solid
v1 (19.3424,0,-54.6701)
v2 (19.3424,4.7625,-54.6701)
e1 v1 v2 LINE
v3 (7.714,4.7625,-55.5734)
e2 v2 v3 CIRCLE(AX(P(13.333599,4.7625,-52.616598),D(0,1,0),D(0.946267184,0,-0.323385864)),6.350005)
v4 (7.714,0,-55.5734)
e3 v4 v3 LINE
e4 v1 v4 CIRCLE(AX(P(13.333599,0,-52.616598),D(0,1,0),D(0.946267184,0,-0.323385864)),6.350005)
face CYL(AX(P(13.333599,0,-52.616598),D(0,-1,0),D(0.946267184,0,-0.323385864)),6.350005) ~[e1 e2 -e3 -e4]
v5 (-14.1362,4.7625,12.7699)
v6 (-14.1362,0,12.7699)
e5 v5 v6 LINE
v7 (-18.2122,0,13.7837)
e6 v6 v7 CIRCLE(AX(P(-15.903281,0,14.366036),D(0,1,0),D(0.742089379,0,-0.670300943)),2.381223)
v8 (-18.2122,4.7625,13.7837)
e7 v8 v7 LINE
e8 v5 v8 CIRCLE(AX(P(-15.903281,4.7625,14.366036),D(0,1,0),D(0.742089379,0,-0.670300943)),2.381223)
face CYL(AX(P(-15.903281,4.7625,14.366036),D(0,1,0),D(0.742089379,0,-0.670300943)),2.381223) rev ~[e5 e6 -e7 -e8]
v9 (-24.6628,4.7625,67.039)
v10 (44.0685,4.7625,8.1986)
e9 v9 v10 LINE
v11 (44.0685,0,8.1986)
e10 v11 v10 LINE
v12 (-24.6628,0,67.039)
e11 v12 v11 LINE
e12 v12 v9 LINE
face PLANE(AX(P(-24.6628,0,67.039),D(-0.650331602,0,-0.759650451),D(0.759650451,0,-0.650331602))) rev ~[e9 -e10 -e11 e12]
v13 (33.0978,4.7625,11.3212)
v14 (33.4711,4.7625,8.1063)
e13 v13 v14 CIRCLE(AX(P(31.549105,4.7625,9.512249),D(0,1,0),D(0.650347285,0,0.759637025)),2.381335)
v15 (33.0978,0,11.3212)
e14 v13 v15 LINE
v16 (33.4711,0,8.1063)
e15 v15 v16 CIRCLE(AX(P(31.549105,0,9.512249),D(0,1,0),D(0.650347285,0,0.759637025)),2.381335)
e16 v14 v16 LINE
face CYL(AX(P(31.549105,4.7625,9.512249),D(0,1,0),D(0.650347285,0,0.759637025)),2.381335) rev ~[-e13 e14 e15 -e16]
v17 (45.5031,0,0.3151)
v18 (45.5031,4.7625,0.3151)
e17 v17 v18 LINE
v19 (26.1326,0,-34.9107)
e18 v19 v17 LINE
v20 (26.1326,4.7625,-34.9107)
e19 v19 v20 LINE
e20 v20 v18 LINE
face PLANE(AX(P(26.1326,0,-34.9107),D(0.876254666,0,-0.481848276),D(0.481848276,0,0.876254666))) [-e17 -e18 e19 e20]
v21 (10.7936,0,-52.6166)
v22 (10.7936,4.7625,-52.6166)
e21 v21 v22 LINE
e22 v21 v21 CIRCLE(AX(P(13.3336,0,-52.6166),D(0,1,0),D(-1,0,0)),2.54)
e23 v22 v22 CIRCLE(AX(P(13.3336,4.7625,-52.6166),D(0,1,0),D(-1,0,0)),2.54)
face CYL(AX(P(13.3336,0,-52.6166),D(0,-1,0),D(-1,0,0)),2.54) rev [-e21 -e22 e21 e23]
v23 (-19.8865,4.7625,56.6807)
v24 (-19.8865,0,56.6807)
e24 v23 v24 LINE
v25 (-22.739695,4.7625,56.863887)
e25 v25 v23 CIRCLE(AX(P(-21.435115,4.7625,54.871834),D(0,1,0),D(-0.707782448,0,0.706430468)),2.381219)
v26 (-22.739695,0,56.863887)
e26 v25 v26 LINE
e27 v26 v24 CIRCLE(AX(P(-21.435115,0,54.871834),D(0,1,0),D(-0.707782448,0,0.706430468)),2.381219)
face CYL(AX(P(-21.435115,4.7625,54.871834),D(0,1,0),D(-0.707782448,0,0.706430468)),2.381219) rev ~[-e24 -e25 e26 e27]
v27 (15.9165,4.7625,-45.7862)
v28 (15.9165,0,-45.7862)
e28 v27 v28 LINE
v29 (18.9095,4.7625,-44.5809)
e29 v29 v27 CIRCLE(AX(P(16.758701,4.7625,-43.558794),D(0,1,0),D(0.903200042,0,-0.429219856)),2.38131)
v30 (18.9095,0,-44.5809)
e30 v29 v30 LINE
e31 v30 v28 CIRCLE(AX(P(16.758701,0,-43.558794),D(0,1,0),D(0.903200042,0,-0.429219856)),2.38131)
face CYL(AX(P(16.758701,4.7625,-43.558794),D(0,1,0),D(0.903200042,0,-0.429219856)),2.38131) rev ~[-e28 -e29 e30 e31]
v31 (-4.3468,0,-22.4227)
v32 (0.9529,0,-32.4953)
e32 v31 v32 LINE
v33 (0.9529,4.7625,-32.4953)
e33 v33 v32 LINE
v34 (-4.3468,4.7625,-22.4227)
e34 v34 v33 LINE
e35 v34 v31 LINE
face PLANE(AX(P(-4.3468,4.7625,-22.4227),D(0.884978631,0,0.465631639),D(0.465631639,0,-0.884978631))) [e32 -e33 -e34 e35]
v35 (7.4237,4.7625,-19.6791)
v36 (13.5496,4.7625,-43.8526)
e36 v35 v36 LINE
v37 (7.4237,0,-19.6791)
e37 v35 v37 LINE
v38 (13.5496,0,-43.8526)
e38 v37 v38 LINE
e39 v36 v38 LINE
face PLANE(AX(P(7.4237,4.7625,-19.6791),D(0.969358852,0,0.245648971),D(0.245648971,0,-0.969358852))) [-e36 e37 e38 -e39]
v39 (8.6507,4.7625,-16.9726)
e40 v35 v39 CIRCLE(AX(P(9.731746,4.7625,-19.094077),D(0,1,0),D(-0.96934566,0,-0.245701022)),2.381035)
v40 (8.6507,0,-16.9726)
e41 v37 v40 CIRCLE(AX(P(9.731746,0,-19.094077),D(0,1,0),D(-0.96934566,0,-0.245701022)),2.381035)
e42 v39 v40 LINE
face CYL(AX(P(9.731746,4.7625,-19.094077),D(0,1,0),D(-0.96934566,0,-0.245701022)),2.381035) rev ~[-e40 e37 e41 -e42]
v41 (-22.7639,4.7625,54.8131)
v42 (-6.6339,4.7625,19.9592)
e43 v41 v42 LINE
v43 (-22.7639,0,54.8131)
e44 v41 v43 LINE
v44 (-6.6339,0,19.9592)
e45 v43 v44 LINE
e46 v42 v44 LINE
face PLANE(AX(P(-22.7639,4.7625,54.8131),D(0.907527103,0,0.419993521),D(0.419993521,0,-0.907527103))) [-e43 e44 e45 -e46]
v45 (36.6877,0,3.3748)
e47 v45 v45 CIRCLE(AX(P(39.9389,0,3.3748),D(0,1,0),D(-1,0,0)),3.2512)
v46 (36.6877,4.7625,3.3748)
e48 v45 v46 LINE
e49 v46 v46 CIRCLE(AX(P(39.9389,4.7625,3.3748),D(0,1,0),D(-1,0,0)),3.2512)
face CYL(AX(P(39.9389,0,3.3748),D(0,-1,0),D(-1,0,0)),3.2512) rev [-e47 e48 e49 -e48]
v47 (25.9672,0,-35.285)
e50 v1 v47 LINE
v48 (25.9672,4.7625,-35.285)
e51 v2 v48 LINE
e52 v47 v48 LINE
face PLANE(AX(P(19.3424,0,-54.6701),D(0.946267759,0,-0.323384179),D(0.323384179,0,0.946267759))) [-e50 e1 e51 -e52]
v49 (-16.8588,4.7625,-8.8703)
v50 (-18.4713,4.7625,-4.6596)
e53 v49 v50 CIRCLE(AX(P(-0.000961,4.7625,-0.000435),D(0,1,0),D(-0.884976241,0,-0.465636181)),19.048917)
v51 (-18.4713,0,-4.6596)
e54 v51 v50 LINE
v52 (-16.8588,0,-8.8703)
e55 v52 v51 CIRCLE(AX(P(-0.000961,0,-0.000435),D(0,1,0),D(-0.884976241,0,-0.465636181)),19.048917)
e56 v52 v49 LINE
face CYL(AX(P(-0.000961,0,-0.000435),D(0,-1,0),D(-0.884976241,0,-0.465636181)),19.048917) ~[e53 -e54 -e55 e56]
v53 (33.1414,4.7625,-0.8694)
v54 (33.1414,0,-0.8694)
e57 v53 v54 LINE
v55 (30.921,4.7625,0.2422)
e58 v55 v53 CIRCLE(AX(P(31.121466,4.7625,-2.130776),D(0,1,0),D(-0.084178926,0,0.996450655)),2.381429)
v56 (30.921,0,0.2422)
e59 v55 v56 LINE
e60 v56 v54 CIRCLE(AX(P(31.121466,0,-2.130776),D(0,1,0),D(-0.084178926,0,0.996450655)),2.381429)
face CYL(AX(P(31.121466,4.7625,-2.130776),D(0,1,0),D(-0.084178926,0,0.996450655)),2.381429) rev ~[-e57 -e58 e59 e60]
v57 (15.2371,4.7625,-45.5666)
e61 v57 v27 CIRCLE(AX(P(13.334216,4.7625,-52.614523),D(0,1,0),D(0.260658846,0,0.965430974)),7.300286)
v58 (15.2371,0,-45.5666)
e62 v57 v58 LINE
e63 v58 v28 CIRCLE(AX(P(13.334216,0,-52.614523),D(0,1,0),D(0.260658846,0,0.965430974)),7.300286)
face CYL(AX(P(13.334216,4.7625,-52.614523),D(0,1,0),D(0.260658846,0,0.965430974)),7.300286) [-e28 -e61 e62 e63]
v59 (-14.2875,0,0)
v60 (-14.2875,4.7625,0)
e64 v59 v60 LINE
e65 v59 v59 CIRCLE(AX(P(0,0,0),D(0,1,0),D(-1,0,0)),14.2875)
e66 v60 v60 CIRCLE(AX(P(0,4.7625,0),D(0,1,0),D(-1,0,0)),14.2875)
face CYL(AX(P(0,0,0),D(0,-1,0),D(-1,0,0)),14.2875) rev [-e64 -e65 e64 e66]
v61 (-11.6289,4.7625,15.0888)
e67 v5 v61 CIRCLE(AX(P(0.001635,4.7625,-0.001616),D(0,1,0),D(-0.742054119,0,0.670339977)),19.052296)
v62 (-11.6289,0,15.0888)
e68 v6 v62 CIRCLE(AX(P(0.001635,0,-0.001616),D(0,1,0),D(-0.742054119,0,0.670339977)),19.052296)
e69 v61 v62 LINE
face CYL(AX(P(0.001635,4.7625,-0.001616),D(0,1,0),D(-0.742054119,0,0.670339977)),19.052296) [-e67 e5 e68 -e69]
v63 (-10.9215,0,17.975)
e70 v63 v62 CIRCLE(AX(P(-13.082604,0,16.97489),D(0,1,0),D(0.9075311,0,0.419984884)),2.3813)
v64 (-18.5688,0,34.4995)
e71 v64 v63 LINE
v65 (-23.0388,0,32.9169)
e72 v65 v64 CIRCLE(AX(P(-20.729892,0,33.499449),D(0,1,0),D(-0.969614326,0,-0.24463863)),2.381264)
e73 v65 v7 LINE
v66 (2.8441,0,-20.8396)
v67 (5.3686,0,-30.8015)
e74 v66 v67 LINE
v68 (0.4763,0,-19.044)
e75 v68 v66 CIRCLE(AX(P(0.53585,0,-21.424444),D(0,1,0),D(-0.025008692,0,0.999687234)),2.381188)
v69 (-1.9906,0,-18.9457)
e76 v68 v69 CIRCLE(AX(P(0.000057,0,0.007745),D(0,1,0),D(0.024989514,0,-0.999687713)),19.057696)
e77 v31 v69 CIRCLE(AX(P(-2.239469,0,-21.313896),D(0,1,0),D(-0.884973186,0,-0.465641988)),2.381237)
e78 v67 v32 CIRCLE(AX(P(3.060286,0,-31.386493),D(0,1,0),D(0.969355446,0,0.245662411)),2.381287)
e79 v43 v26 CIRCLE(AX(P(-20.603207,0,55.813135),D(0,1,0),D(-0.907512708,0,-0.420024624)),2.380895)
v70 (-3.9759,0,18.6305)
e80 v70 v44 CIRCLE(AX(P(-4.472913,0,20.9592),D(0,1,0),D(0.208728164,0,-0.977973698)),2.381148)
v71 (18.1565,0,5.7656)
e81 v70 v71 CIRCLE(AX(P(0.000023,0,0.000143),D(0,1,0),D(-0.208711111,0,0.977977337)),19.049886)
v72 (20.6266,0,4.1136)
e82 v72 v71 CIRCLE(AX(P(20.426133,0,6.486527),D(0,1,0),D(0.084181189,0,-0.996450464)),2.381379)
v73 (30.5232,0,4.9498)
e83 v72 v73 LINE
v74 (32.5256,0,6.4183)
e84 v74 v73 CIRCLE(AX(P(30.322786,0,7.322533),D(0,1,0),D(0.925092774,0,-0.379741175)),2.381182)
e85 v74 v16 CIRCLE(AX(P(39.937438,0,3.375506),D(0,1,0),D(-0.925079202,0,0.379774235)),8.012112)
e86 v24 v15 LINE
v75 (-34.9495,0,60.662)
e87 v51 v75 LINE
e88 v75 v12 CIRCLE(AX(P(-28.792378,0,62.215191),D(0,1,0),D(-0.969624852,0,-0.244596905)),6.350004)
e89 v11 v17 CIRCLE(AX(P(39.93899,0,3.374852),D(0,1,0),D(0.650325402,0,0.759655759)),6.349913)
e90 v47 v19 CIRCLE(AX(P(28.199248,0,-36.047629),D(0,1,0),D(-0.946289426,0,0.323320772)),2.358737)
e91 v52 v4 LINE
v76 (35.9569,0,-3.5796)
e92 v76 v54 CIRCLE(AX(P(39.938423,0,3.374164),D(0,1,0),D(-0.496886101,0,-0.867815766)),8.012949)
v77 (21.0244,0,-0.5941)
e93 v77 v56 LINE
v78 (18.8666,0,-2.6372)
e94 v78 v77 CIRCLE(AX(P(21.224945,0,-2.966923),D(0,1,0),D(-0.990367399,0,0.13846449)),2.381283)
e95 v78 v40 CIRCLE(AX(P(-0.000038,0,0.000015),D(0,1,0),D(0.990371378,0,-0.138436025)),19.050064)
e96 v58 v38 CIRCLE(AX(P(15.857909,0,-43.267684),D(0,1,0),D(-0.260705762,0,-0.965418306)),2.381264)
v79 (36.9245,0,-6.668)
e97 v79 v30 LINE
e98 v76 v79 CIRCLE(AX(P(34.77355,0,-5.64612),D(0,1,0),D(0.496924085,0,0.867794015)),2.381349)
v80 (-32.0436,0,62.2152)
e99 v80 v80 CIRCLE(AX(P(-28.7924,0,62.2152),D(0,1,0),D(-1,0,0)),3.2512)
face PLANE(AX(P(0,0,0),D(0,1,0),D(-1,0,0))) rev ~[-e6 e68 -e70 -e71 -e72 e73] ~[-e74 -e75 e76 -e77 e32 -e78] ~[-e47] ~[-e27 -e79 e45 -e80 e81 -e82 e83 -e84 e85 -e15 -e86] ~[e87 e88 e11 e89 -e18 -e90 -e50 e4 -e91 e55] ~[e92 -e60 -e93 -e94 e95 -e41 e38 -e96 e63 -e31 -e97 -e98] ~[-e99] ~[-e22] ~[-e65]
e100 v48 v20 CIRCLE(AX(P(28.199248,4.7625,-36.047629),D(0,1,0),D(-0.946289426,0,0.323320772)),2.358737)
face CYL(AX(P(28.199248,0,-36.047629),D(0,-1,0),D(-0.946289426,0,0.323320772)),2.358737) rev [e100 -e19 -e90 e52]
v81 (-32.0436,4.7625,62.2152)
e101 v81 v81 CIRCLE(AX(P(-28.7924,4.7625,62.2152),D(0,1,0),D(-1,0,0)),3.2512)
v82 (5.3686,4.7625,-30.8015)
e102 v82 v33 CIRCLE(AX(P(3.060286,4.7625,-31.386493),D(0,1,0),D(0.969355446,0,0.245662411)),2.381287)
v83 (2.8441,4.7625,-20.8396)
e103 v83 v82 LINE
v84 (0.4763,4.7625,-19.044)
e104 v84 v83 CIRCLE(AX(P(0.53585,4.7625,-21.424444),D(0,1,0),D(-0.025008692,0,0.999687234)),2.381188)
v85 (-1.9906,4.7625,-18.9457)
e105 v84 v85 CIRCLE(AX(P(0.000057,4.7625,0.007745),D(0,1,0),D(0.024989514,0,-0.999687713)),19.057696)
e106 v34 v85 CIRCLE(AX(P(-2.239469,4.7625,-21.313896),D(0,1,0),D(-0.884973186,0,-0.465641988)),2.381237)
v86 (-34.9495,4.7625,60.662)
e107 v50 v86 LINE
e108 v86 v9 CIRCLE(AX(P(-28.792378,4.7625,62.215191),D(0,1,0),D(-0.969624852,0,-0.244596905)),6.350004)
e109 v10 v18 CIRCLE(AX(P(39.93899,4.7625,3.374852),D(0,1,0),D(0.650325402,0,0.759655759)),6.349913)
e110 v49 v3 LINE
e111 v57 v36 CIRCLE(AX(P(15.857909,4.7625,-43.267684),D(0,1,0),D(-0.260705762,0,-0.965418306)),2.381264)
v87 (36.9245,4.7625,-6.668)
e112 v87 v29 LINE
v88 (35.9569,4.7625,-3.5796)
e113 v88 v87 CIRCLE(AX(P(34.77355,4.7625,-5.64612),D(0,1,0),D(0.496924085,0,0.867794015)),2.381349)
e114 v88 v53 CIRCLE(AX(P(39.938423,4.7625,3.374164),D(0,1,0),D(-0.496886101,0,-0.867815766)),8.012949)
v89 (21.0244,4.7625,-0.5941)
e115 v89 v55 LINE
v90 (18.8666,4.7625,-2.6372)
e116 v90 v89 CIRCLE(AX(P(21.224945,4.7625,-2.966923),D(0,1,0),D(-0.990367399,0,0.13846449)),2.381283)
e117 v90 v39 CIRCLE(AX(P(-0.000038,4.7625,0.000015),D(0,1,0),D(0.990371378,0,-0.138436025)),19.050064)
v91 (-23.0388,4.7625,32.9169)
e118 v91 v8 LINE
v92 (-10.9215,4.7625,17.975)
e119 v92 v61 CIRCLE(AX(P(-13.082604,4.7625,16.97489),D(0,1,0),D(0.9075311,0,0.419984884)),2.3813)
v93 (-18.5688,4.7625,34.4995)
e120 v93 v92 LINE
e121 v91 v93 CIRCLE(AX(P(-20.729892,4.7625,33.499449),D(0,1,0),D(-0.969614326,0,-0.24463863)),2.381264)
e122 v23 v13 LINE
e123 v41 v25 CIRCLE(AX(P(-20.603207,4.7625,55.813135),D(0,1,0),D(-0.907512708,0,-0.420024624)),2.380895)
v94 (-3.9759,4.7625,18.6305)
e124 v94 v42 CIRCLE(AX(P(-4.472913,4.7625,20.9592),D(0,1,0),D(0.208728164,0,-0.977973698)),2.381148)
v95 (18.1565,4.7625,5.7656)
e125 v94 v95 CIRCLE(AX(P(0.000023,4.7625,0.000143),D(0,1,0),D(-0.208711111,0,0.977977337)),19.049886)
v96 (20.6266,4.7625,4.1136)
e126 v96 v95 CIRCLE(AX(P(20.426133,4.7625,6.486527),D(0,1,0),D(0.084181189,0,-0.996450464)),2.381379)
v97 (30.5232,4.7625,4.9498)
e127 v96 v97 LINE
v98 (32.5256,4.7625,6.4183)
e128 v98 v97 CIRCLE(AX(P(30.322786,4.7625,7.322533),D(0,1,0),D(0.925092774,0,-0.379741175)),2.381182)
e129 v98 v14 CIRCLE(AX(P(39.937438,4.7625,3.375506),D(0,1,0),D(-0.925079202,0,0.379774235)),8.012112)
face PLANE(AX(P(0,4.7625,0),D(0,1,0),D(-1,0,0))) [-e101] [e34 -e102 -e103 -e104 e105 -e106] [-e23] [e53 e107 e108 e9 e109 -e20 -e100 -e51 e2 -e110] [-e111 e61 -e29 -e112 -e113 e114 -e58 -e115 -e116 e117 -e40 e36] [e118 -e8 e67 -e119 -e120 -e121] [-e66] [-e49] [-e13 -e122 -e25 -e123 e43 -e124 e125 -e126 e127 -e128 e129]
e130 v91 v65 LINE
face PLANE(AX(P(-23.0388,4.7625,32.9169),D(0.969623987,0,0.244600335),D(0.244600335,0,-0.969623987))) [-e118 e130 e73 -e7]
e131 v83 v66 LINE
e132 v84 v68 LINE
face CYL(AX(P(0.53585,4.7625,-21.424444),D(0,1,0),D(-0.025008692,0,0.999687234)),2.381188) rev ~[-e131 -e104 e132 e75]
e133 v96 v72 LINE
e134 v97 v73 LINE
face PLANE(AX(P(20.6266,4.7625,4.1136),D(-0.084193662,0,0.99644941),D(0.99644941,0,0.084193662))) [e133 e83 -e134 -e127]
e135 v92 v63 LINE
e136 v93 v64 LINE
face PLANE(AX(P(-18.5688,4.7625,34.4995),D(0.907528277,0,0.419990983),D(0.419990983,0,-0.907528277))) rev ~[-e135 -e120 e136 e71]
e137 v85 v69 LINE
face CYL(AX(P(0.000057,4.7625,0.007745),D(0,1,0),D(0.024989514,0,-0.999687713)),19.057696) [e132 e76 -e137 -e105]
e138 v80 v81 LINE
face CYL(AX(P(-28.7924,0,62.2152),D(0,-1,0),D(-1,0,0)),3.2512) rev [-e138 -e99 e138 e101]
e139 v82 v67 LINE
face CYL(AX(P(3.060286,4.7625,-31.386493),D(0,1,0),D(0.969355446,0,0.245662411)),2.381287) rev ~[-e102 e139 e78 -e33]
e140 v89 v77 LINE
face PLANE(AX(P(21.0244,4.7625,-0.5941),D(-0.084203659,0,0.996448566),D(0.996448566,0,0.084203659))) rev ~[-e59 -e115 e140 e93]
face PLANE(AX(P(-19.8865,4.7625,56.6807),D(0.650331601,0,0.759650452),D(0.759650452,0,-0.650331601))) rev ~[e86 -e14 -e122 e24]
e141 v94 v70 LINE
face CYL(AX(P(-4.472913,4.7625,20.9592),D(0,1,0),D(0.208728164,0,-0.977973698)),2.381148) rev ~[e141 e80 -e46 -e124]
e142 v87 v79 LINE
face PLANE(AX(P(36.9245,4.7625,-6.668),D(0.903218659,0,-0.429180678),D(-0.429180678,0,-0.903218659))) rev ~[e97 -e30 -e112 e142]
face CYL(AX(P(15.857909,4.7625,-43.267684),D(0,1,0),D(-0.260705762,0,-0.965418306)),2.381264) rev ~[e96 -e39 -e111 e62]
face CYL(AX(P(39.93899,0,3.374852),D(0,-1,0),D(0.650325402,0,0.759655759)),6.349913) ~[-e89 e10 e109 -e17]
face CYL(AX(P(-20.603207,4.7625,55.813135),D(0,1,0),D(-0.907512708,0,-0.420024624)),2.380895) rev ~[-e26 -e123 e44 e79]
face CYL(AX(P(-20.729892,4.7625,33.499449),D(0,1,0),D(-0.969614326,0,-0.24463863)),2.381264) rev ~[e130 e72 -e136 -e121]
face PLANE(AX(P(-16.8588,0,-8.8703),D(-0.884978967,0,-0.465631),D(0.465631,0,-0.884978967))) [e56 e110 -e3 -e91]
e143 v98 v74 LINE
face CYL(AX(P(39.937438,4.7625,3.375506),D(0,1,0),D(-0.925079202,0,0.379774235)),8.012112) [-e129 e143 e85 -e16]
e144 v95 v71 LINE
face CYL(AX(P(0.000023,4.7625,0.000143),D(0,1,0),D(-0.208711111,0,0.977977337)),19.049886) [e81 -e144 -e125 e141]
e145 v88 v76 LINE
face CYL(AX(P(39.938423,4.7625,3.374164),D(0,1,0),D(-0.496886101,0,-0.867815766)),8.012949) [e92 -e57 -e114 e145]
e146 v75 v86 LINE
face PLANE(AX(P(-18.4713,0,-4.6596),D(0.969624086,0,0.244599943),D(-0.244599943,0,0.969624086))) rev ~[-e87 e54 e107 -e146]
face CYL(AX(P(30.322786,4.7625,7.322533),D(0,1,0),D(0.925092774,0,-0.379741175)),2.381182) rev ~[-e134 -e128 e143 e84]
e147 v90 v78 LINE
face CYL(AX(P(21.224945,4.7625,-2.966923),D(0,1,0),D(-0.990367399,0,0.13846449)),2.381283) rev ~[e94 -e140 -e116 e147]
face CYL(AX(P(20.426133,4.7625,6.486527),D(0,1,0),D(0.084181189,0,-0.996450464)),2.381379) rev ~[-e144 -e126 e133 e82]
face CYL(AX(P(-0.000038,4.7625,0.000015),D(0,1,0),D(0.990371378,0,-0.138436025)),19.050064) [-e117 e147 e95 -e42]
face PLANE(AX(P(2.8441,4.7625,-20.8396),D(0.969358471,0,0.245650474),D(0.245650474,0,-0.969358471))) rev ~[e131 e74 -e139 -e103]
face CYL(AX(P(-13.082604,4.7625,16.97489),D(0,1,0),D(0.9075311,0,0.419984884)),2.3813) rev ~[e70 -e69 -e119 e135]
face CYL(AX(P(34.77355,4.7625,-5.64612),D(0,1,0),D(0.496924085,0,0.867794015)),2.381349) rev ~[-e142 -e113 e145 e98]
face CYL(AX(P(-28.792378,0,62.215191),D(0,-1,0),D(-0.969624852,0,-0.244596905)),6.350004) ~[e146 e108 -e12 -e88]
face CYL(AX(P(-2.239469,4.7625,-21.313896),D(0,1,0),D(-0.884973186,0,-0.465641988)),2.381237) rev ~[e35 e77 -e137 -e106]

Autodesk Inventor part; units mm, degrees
ref_plane "YZ Plane" through (0, 0, 0) normal (1, 0, 0) x (0, 1, 0)
ref_plane "XZ Plane" through (0, 0, 0) normal (0, 1, 0) x (-1, 0, 0)
ref_plane "XY Plane" through (0, 0, 0) normal (0, 0, 1) x (1, 0, 0)
sketch "Sketch1" plane through (0, 0, 0) normal (0, 1, 0) x (-1, 0, 0)
  circle A0 centre (0, 0) radius 14.2875
  line L0 (0, 0) -> (28.7924, 62.2152) construction
  line L1 (0, 0) -> (-39.9389, 3.3748) construction
  line L2 (0, 0) -> (-13.3336, -52.6166) construction
  circle A1 centre (28.7924, 62.2152) radius 3.2512
  circle A2 centre (-39.9389, 3.3748) radius 3.2512
  circle A3 centre (-13.3336, -52.6166) radius 2.54
  line L3 (0, 0) -> (0, 14.2875) construction
  circle A4 centre (28.7924, 62.2152) radius 6.35 construction
  circle A5 centre (-13.3336, -52.6166) radius 6.35 construction
  circle A6 centre (-39.9389, 3.3748) radius 6.35 construction
  circle A7 centre (0, 0) radius 19.05 construction
  line L4 (24.6628, 67.039) -> (-44.0685, 8.1986)
  line L5 (16.8588, -8.8703) -> (-7.714, -55.5734)
  line L6 (18.4713, -4.6596) -> (34.9495, 60.662)
  arc A8 (34.9495, 60.662) -> (24.6628, 67.039) centre (28.7924, 62.2152) ccw
  arc A9 (-44.0685, 8.1986) -> (-45.5031, 0.3151) centre (-39.9389, 3.3748) ccw
  arc A10 (-19.3424, -54.6701) -> (-7.714, -55.5734) centre (-13.3336, -52.6166) ccw
  arc A11 (16.8588, -8.8703) -> (18.4713, -4.6596) centre (0, 0) ccw
  line L7 (-13.3336, -52.6166) -> (-26.0336, -52.6166) construction
  line L8 (-26.0336, -52.6166) -> (-26.0336, -35.0906) construction
  line L9 (-26.0336, -35.0906) -> (-38.7336, -35.0906) construction
  line L10 (-19.3424, -54.6701) -> (-25.9672, -35.285)
  line L11 (-26.1326, -34.9107) -> (-45.5031, 0.3151)
  arc A12 (-25.9672, -35.285) -> (-26.1326, -34.9107) centre (-28.2025, -36.0489) ccw
  dimension "d0" = 28.575
  dimension "d1" = 6.5024
  dimension "d2" = 68.5546
  dimension "d3" = 40.0812
  dimension "d4" = 54.2798
  dimension "d5" = 24.834
  dimension "d8" = 85.17
  dimension "d9" = 12.7
  dimension "d10" = 4.7625
  dimension "d32" = 80.61
  dimension "d33" = 5.08
  dimension "d34" = 12.7
  dimension "d35" = 17.526
  dimension "d36" = 12.7
  dimension "d37" = 2.3622
extrude "Extrusion1" add sketch "Sketch1" along normal blind 4.7625
sketch "Sketch2" plane through (0, 4.7625, 0) normal (0, 1, 0) x (1, 0, 0)
  line L0 (-18.4713, 4.6596) -> (-34.9495, -60.662) construction
  arc A0 (-34.9495, -60.662) -> (-24.6628, -67.039) centre (-28.7924, -62.2152) ccw construction
  line L1 (-24.6628, -67.039) -> (44.0685, -8.1986) construction
  arc A1 (44.0685, -8.1986) -> (45.5031, -0.3151) centre (39.9389, -3.3748) ccw construction
  arc A2 (19.3424, 54.6701) -> (7.714, 55.5734) centre (13.3336, 52.6166) ccw construction
  line L2 (7.714, 55.5734) -> (-16.8588, 8.8703) construction
  arc A3 (-16.8588, 8.8703) -> (-18.4713, 4.6596) centre (0, 0) ccw construction
  circle A4 centre (13.3336, 52.6166) radius 2.54 construction
  circle A5 centre (39.9389, -3.3748) radius 3.2512 construction
  circle A6 centre (-28.7924, -62.2152) radius 3.2512 construction
  circle A7 centre (0, 0) radius 14.2875 construction
  line L3 (-30.3316, -61.8269) -> (-13.8535, 3.4947) construction
  arc A8 (-12.6441, 6.6527) -> (-13.8535, 3.4947) centre (0, 0) ccw construction
  line L4 (-12.6441, 6.6527) -> (11.9287, 53.3558) construction
  arc A9 (14.7675, 53.298) -> (11.9287, 53.3558) centre (13.3336, 52.6166) ccw construction
  line L5 (14.7675, 53.298) -> (41.3727, -2.6935) construction
  arc A10 (40.9713, -4.5808) -> (41.3727, -2.6935) centre (39.9389, -3.3748) ccw construction
  line L6 (40.9713, -4.5808) -> (-27.76, -63.4212) construction
  arc A11 (-30.3316, -61.8269) -> (-27.76, -63.4212) centre (-28.7924, -62.2152) ccw construction
  circle A12 centre (-28.7924, -62.2152) radius 8.0137 construction
  circle A13 centre (0, 0) radius 19.05 construction
  circle A14 centre (39.9389, -3.3748) radius 8.0137 construction
  circle A15 centre (13.3336, 52.6166) radius 7.3025 construction
  line L7 (-25.4267, -54.9426) -> (-8.0008, -17.2884) construction
  line L8 (18.9824, -1.604) -> (31.9536, -2.7001) construction
  line L9 (4.6796, 18.4663) -> (11.5398, 45.5379) construction
  line L10 (-18.5688, -34.4995) -> (-10.9215, -17.975)
  line L11 (-22.7639, -54.8131) -> (-6.6339, -19.9592)
  line L12 (7.4237, 19.6791) -> (13.5496, 43.8526)
  line L13 (2.8441, 20.8396) -> (5.3686, 30.8015)
  line L14 (20.6266, -4.1136) -> (30.5232, -4.9498)
  line L15 (21.0244, 0.5941) -> (30.921, -0.2422)
  arc A16 (-3.9759, -18.6305) -> (18.1565, -5.7656) centre (0, 0) ccw
  arc A17 (-23.1205, -56.554) -> (-22.4788, -57.2797) centre (-28.7924, -62.2152) ccw
  arc A18 (32.5256, -6.4183) -> (33.4711, -8.1063) centre (39.9389, -3.3748) ccw
  line L16 (-19.8865, -56.6807) -> (33.0978, -11.3212)
  arc A19 (-22.7639, -54.8131) -> (-22.4788, -57.2797) centre (-20.6028, -55.8132) ccw
  arc A20 (-23.1205, -56.554) -> (-19.8865, -56.6807) centre (-21.4351, -54.8718) ccw
  arc A21 (-3.9759, -18.6305) -> (-6.6339, -19.9592) centre (-4.4729, -20.9593) ccw
  arc A22 (20.6266, -4.1136) -> (18.1565, -5.7656) centre (20.4261, -6.4864) ccw
  arc A23 (32.5256, -6.4183) -> (30.5232, -4.9498) centre (30.3227, -7.3226) ccw
  arc A24 (33.0978, -11.3212) -> (33.4711, -8.1063) centre (31.5492, -9.5123) ccw
  line L17 (36.9245, 6.668) -> (18.9095, 44.5809)
  arc A25 (18.8666, 2.6372) -> (8.6507, 16.9726) centre (0, 0) ccw
  arc A26 (15.2371, 45.5666) -> (15.9165, 45.7862) centre (13.3336, 52.6166) ccw
  arc A27 (35.9569, 3.5796) -> (33.1414, 0.8694) centre (39.9389, -3.3748) ccw
  arc A28 (7.4237, 19.6791) -> (8.6507, 16.9726) centre (9.732, 19.0941) ccw
  arc A29 (18.8666, 2.6372) -> (21.0244, 0.5941) centre (21.2249, 2.9669) ccw
  arc A30 (30.921, -0.2422) -> (33.1414, 0.8694) centre (31.1215, 2.1306) ccw
  arc A31 (35.9569, 3.5796) -> (36.9245, 6.668) centre (34.7737, 5.646) ccw
  arc A32 (15.2371, 45.5666) -> (13.5496, 43.8526) centre (15.8579, 43.2677) ccw
  arc A33 (18.9095, 44.5809) -> (15.9165, 45.7862) centre (16.7588, 43.5589) ccw
  line L18 (-4.3468, 22.4227) -> (0.9529, 32.4953)
  arc A34 (0.4763, 19.044) -> (-1.9906, 18.9457) centre (0, 0) ccw
  arc A35 (5.3686, 30.8015) -> (0.9529, 32.4953) centre (3.0603, 31.3865) ccw
  arc A36 (-4.3468, 22.4227) -> (-1.9906, 18.9457) centre (-2.2394, 21.3139) ccw
  arc A37 (0.4763, 19.044) -> (2.8441, 20.8396) centre (0.5358, 21.4246) ccw
  line L19 (-23.0388, -32.9169) -> (-18.2122, -13.7837)
  arc A38 (-14.1362, -12.7699) -> (-11.6289, -15.0888) centre (0, 0) ccw
  arc A39 (-23.0388, -32.9169) -> (-18.5688, -34.4995) centre (-20.7298, -33.4994) ccw
  arc A40 (-14.1362, -12.7699) -> (-18.2122, -13.7837) centre (-15.9033, -14.3661) ccw
  arc A41 (-10.9215, -17.975) -> (-11.6289, -15.0888) centre (-13.0825, -16.9749) ccw
  line L20 (45.5031, -0.3151) -> (26.1326, 34.9107) projected
  arc A42 (25.9672, 35.285) -> (26.1326, 34.9107) centre (28.2025, 36.0489) ccw projected
  line L21 (25.9672, 35.285) -> (19.3424, 54.6701) projected
  point P0 (-27.72, -54.2736)
  point P1 (-10.0829, -16.1629)
  point P2 (-23.4325, -56.2578)
  point P3 (-5.7953, -18.1471)
  point P4 (6.9333, 17.7435)
  point P5 (13.926, 45.3382)
  point P6 (2.3536, 18.904)
  point P7 (9.3464, 46.4987)
  point P8 (18.637, -3.9454)
  point P9 (32.1095, -5.0839)
  point P10 (19.0347, 0.7622)
  point P11 (32.5073, -0.3762)
  point P12 (-21.793, -58.3129)
  point P13 (35.0043, -9.689)
  point P14 (38.0016, 4.4012)
  point P15 (17.8266, 46.86)
  point P16 (-6.777, 17.8038)
  point P17 (8.6097, 47.0478)
  point P18 (-28.4103, -54.2106)
  point P19 (-16.9355, -8.7229)
  point P20 (-22.7397, -56.8639)
  dimension "d13" = 4.7625
  dimension "d14" = 4.7625
  dimension "d15" = 4.7625
  dimension "d16" = 4.7625
  dimension "d17" = 4.7625
  dimension "d18" = 2.3622
  dimension "d19" = 2.3622
  dimension "d20" = 2.3622
  dimension "d21" = 2.3622
  dimension "d22" = 2.3622
  dimension "d23" = 2.3622
  dimension "d24" = 2.3813
  dimension "d25" = 2.3813
  dimension "d26" = 2.3813
  dimension "d27" = 2.3813
  dimension "d28" = 2.3813
  dimension "d29" = 2.3813
extrude "Extrusion2" cut sketch "Sketch2" against normal blind 4.7625 contours A39 L19 A40 A38 A41 L10 | L11 A21 A16 A22 L14 A23 A18 A24 L16 A20 A19 | L12 A32 A26 A33 L17 A31 A27 A30 L15 A29 A25 A28 | A37 A34 A36 L18 A35 L13
properties part number "ELEV_036_SPRKTBRKT1" material "Aluminum 6061"
